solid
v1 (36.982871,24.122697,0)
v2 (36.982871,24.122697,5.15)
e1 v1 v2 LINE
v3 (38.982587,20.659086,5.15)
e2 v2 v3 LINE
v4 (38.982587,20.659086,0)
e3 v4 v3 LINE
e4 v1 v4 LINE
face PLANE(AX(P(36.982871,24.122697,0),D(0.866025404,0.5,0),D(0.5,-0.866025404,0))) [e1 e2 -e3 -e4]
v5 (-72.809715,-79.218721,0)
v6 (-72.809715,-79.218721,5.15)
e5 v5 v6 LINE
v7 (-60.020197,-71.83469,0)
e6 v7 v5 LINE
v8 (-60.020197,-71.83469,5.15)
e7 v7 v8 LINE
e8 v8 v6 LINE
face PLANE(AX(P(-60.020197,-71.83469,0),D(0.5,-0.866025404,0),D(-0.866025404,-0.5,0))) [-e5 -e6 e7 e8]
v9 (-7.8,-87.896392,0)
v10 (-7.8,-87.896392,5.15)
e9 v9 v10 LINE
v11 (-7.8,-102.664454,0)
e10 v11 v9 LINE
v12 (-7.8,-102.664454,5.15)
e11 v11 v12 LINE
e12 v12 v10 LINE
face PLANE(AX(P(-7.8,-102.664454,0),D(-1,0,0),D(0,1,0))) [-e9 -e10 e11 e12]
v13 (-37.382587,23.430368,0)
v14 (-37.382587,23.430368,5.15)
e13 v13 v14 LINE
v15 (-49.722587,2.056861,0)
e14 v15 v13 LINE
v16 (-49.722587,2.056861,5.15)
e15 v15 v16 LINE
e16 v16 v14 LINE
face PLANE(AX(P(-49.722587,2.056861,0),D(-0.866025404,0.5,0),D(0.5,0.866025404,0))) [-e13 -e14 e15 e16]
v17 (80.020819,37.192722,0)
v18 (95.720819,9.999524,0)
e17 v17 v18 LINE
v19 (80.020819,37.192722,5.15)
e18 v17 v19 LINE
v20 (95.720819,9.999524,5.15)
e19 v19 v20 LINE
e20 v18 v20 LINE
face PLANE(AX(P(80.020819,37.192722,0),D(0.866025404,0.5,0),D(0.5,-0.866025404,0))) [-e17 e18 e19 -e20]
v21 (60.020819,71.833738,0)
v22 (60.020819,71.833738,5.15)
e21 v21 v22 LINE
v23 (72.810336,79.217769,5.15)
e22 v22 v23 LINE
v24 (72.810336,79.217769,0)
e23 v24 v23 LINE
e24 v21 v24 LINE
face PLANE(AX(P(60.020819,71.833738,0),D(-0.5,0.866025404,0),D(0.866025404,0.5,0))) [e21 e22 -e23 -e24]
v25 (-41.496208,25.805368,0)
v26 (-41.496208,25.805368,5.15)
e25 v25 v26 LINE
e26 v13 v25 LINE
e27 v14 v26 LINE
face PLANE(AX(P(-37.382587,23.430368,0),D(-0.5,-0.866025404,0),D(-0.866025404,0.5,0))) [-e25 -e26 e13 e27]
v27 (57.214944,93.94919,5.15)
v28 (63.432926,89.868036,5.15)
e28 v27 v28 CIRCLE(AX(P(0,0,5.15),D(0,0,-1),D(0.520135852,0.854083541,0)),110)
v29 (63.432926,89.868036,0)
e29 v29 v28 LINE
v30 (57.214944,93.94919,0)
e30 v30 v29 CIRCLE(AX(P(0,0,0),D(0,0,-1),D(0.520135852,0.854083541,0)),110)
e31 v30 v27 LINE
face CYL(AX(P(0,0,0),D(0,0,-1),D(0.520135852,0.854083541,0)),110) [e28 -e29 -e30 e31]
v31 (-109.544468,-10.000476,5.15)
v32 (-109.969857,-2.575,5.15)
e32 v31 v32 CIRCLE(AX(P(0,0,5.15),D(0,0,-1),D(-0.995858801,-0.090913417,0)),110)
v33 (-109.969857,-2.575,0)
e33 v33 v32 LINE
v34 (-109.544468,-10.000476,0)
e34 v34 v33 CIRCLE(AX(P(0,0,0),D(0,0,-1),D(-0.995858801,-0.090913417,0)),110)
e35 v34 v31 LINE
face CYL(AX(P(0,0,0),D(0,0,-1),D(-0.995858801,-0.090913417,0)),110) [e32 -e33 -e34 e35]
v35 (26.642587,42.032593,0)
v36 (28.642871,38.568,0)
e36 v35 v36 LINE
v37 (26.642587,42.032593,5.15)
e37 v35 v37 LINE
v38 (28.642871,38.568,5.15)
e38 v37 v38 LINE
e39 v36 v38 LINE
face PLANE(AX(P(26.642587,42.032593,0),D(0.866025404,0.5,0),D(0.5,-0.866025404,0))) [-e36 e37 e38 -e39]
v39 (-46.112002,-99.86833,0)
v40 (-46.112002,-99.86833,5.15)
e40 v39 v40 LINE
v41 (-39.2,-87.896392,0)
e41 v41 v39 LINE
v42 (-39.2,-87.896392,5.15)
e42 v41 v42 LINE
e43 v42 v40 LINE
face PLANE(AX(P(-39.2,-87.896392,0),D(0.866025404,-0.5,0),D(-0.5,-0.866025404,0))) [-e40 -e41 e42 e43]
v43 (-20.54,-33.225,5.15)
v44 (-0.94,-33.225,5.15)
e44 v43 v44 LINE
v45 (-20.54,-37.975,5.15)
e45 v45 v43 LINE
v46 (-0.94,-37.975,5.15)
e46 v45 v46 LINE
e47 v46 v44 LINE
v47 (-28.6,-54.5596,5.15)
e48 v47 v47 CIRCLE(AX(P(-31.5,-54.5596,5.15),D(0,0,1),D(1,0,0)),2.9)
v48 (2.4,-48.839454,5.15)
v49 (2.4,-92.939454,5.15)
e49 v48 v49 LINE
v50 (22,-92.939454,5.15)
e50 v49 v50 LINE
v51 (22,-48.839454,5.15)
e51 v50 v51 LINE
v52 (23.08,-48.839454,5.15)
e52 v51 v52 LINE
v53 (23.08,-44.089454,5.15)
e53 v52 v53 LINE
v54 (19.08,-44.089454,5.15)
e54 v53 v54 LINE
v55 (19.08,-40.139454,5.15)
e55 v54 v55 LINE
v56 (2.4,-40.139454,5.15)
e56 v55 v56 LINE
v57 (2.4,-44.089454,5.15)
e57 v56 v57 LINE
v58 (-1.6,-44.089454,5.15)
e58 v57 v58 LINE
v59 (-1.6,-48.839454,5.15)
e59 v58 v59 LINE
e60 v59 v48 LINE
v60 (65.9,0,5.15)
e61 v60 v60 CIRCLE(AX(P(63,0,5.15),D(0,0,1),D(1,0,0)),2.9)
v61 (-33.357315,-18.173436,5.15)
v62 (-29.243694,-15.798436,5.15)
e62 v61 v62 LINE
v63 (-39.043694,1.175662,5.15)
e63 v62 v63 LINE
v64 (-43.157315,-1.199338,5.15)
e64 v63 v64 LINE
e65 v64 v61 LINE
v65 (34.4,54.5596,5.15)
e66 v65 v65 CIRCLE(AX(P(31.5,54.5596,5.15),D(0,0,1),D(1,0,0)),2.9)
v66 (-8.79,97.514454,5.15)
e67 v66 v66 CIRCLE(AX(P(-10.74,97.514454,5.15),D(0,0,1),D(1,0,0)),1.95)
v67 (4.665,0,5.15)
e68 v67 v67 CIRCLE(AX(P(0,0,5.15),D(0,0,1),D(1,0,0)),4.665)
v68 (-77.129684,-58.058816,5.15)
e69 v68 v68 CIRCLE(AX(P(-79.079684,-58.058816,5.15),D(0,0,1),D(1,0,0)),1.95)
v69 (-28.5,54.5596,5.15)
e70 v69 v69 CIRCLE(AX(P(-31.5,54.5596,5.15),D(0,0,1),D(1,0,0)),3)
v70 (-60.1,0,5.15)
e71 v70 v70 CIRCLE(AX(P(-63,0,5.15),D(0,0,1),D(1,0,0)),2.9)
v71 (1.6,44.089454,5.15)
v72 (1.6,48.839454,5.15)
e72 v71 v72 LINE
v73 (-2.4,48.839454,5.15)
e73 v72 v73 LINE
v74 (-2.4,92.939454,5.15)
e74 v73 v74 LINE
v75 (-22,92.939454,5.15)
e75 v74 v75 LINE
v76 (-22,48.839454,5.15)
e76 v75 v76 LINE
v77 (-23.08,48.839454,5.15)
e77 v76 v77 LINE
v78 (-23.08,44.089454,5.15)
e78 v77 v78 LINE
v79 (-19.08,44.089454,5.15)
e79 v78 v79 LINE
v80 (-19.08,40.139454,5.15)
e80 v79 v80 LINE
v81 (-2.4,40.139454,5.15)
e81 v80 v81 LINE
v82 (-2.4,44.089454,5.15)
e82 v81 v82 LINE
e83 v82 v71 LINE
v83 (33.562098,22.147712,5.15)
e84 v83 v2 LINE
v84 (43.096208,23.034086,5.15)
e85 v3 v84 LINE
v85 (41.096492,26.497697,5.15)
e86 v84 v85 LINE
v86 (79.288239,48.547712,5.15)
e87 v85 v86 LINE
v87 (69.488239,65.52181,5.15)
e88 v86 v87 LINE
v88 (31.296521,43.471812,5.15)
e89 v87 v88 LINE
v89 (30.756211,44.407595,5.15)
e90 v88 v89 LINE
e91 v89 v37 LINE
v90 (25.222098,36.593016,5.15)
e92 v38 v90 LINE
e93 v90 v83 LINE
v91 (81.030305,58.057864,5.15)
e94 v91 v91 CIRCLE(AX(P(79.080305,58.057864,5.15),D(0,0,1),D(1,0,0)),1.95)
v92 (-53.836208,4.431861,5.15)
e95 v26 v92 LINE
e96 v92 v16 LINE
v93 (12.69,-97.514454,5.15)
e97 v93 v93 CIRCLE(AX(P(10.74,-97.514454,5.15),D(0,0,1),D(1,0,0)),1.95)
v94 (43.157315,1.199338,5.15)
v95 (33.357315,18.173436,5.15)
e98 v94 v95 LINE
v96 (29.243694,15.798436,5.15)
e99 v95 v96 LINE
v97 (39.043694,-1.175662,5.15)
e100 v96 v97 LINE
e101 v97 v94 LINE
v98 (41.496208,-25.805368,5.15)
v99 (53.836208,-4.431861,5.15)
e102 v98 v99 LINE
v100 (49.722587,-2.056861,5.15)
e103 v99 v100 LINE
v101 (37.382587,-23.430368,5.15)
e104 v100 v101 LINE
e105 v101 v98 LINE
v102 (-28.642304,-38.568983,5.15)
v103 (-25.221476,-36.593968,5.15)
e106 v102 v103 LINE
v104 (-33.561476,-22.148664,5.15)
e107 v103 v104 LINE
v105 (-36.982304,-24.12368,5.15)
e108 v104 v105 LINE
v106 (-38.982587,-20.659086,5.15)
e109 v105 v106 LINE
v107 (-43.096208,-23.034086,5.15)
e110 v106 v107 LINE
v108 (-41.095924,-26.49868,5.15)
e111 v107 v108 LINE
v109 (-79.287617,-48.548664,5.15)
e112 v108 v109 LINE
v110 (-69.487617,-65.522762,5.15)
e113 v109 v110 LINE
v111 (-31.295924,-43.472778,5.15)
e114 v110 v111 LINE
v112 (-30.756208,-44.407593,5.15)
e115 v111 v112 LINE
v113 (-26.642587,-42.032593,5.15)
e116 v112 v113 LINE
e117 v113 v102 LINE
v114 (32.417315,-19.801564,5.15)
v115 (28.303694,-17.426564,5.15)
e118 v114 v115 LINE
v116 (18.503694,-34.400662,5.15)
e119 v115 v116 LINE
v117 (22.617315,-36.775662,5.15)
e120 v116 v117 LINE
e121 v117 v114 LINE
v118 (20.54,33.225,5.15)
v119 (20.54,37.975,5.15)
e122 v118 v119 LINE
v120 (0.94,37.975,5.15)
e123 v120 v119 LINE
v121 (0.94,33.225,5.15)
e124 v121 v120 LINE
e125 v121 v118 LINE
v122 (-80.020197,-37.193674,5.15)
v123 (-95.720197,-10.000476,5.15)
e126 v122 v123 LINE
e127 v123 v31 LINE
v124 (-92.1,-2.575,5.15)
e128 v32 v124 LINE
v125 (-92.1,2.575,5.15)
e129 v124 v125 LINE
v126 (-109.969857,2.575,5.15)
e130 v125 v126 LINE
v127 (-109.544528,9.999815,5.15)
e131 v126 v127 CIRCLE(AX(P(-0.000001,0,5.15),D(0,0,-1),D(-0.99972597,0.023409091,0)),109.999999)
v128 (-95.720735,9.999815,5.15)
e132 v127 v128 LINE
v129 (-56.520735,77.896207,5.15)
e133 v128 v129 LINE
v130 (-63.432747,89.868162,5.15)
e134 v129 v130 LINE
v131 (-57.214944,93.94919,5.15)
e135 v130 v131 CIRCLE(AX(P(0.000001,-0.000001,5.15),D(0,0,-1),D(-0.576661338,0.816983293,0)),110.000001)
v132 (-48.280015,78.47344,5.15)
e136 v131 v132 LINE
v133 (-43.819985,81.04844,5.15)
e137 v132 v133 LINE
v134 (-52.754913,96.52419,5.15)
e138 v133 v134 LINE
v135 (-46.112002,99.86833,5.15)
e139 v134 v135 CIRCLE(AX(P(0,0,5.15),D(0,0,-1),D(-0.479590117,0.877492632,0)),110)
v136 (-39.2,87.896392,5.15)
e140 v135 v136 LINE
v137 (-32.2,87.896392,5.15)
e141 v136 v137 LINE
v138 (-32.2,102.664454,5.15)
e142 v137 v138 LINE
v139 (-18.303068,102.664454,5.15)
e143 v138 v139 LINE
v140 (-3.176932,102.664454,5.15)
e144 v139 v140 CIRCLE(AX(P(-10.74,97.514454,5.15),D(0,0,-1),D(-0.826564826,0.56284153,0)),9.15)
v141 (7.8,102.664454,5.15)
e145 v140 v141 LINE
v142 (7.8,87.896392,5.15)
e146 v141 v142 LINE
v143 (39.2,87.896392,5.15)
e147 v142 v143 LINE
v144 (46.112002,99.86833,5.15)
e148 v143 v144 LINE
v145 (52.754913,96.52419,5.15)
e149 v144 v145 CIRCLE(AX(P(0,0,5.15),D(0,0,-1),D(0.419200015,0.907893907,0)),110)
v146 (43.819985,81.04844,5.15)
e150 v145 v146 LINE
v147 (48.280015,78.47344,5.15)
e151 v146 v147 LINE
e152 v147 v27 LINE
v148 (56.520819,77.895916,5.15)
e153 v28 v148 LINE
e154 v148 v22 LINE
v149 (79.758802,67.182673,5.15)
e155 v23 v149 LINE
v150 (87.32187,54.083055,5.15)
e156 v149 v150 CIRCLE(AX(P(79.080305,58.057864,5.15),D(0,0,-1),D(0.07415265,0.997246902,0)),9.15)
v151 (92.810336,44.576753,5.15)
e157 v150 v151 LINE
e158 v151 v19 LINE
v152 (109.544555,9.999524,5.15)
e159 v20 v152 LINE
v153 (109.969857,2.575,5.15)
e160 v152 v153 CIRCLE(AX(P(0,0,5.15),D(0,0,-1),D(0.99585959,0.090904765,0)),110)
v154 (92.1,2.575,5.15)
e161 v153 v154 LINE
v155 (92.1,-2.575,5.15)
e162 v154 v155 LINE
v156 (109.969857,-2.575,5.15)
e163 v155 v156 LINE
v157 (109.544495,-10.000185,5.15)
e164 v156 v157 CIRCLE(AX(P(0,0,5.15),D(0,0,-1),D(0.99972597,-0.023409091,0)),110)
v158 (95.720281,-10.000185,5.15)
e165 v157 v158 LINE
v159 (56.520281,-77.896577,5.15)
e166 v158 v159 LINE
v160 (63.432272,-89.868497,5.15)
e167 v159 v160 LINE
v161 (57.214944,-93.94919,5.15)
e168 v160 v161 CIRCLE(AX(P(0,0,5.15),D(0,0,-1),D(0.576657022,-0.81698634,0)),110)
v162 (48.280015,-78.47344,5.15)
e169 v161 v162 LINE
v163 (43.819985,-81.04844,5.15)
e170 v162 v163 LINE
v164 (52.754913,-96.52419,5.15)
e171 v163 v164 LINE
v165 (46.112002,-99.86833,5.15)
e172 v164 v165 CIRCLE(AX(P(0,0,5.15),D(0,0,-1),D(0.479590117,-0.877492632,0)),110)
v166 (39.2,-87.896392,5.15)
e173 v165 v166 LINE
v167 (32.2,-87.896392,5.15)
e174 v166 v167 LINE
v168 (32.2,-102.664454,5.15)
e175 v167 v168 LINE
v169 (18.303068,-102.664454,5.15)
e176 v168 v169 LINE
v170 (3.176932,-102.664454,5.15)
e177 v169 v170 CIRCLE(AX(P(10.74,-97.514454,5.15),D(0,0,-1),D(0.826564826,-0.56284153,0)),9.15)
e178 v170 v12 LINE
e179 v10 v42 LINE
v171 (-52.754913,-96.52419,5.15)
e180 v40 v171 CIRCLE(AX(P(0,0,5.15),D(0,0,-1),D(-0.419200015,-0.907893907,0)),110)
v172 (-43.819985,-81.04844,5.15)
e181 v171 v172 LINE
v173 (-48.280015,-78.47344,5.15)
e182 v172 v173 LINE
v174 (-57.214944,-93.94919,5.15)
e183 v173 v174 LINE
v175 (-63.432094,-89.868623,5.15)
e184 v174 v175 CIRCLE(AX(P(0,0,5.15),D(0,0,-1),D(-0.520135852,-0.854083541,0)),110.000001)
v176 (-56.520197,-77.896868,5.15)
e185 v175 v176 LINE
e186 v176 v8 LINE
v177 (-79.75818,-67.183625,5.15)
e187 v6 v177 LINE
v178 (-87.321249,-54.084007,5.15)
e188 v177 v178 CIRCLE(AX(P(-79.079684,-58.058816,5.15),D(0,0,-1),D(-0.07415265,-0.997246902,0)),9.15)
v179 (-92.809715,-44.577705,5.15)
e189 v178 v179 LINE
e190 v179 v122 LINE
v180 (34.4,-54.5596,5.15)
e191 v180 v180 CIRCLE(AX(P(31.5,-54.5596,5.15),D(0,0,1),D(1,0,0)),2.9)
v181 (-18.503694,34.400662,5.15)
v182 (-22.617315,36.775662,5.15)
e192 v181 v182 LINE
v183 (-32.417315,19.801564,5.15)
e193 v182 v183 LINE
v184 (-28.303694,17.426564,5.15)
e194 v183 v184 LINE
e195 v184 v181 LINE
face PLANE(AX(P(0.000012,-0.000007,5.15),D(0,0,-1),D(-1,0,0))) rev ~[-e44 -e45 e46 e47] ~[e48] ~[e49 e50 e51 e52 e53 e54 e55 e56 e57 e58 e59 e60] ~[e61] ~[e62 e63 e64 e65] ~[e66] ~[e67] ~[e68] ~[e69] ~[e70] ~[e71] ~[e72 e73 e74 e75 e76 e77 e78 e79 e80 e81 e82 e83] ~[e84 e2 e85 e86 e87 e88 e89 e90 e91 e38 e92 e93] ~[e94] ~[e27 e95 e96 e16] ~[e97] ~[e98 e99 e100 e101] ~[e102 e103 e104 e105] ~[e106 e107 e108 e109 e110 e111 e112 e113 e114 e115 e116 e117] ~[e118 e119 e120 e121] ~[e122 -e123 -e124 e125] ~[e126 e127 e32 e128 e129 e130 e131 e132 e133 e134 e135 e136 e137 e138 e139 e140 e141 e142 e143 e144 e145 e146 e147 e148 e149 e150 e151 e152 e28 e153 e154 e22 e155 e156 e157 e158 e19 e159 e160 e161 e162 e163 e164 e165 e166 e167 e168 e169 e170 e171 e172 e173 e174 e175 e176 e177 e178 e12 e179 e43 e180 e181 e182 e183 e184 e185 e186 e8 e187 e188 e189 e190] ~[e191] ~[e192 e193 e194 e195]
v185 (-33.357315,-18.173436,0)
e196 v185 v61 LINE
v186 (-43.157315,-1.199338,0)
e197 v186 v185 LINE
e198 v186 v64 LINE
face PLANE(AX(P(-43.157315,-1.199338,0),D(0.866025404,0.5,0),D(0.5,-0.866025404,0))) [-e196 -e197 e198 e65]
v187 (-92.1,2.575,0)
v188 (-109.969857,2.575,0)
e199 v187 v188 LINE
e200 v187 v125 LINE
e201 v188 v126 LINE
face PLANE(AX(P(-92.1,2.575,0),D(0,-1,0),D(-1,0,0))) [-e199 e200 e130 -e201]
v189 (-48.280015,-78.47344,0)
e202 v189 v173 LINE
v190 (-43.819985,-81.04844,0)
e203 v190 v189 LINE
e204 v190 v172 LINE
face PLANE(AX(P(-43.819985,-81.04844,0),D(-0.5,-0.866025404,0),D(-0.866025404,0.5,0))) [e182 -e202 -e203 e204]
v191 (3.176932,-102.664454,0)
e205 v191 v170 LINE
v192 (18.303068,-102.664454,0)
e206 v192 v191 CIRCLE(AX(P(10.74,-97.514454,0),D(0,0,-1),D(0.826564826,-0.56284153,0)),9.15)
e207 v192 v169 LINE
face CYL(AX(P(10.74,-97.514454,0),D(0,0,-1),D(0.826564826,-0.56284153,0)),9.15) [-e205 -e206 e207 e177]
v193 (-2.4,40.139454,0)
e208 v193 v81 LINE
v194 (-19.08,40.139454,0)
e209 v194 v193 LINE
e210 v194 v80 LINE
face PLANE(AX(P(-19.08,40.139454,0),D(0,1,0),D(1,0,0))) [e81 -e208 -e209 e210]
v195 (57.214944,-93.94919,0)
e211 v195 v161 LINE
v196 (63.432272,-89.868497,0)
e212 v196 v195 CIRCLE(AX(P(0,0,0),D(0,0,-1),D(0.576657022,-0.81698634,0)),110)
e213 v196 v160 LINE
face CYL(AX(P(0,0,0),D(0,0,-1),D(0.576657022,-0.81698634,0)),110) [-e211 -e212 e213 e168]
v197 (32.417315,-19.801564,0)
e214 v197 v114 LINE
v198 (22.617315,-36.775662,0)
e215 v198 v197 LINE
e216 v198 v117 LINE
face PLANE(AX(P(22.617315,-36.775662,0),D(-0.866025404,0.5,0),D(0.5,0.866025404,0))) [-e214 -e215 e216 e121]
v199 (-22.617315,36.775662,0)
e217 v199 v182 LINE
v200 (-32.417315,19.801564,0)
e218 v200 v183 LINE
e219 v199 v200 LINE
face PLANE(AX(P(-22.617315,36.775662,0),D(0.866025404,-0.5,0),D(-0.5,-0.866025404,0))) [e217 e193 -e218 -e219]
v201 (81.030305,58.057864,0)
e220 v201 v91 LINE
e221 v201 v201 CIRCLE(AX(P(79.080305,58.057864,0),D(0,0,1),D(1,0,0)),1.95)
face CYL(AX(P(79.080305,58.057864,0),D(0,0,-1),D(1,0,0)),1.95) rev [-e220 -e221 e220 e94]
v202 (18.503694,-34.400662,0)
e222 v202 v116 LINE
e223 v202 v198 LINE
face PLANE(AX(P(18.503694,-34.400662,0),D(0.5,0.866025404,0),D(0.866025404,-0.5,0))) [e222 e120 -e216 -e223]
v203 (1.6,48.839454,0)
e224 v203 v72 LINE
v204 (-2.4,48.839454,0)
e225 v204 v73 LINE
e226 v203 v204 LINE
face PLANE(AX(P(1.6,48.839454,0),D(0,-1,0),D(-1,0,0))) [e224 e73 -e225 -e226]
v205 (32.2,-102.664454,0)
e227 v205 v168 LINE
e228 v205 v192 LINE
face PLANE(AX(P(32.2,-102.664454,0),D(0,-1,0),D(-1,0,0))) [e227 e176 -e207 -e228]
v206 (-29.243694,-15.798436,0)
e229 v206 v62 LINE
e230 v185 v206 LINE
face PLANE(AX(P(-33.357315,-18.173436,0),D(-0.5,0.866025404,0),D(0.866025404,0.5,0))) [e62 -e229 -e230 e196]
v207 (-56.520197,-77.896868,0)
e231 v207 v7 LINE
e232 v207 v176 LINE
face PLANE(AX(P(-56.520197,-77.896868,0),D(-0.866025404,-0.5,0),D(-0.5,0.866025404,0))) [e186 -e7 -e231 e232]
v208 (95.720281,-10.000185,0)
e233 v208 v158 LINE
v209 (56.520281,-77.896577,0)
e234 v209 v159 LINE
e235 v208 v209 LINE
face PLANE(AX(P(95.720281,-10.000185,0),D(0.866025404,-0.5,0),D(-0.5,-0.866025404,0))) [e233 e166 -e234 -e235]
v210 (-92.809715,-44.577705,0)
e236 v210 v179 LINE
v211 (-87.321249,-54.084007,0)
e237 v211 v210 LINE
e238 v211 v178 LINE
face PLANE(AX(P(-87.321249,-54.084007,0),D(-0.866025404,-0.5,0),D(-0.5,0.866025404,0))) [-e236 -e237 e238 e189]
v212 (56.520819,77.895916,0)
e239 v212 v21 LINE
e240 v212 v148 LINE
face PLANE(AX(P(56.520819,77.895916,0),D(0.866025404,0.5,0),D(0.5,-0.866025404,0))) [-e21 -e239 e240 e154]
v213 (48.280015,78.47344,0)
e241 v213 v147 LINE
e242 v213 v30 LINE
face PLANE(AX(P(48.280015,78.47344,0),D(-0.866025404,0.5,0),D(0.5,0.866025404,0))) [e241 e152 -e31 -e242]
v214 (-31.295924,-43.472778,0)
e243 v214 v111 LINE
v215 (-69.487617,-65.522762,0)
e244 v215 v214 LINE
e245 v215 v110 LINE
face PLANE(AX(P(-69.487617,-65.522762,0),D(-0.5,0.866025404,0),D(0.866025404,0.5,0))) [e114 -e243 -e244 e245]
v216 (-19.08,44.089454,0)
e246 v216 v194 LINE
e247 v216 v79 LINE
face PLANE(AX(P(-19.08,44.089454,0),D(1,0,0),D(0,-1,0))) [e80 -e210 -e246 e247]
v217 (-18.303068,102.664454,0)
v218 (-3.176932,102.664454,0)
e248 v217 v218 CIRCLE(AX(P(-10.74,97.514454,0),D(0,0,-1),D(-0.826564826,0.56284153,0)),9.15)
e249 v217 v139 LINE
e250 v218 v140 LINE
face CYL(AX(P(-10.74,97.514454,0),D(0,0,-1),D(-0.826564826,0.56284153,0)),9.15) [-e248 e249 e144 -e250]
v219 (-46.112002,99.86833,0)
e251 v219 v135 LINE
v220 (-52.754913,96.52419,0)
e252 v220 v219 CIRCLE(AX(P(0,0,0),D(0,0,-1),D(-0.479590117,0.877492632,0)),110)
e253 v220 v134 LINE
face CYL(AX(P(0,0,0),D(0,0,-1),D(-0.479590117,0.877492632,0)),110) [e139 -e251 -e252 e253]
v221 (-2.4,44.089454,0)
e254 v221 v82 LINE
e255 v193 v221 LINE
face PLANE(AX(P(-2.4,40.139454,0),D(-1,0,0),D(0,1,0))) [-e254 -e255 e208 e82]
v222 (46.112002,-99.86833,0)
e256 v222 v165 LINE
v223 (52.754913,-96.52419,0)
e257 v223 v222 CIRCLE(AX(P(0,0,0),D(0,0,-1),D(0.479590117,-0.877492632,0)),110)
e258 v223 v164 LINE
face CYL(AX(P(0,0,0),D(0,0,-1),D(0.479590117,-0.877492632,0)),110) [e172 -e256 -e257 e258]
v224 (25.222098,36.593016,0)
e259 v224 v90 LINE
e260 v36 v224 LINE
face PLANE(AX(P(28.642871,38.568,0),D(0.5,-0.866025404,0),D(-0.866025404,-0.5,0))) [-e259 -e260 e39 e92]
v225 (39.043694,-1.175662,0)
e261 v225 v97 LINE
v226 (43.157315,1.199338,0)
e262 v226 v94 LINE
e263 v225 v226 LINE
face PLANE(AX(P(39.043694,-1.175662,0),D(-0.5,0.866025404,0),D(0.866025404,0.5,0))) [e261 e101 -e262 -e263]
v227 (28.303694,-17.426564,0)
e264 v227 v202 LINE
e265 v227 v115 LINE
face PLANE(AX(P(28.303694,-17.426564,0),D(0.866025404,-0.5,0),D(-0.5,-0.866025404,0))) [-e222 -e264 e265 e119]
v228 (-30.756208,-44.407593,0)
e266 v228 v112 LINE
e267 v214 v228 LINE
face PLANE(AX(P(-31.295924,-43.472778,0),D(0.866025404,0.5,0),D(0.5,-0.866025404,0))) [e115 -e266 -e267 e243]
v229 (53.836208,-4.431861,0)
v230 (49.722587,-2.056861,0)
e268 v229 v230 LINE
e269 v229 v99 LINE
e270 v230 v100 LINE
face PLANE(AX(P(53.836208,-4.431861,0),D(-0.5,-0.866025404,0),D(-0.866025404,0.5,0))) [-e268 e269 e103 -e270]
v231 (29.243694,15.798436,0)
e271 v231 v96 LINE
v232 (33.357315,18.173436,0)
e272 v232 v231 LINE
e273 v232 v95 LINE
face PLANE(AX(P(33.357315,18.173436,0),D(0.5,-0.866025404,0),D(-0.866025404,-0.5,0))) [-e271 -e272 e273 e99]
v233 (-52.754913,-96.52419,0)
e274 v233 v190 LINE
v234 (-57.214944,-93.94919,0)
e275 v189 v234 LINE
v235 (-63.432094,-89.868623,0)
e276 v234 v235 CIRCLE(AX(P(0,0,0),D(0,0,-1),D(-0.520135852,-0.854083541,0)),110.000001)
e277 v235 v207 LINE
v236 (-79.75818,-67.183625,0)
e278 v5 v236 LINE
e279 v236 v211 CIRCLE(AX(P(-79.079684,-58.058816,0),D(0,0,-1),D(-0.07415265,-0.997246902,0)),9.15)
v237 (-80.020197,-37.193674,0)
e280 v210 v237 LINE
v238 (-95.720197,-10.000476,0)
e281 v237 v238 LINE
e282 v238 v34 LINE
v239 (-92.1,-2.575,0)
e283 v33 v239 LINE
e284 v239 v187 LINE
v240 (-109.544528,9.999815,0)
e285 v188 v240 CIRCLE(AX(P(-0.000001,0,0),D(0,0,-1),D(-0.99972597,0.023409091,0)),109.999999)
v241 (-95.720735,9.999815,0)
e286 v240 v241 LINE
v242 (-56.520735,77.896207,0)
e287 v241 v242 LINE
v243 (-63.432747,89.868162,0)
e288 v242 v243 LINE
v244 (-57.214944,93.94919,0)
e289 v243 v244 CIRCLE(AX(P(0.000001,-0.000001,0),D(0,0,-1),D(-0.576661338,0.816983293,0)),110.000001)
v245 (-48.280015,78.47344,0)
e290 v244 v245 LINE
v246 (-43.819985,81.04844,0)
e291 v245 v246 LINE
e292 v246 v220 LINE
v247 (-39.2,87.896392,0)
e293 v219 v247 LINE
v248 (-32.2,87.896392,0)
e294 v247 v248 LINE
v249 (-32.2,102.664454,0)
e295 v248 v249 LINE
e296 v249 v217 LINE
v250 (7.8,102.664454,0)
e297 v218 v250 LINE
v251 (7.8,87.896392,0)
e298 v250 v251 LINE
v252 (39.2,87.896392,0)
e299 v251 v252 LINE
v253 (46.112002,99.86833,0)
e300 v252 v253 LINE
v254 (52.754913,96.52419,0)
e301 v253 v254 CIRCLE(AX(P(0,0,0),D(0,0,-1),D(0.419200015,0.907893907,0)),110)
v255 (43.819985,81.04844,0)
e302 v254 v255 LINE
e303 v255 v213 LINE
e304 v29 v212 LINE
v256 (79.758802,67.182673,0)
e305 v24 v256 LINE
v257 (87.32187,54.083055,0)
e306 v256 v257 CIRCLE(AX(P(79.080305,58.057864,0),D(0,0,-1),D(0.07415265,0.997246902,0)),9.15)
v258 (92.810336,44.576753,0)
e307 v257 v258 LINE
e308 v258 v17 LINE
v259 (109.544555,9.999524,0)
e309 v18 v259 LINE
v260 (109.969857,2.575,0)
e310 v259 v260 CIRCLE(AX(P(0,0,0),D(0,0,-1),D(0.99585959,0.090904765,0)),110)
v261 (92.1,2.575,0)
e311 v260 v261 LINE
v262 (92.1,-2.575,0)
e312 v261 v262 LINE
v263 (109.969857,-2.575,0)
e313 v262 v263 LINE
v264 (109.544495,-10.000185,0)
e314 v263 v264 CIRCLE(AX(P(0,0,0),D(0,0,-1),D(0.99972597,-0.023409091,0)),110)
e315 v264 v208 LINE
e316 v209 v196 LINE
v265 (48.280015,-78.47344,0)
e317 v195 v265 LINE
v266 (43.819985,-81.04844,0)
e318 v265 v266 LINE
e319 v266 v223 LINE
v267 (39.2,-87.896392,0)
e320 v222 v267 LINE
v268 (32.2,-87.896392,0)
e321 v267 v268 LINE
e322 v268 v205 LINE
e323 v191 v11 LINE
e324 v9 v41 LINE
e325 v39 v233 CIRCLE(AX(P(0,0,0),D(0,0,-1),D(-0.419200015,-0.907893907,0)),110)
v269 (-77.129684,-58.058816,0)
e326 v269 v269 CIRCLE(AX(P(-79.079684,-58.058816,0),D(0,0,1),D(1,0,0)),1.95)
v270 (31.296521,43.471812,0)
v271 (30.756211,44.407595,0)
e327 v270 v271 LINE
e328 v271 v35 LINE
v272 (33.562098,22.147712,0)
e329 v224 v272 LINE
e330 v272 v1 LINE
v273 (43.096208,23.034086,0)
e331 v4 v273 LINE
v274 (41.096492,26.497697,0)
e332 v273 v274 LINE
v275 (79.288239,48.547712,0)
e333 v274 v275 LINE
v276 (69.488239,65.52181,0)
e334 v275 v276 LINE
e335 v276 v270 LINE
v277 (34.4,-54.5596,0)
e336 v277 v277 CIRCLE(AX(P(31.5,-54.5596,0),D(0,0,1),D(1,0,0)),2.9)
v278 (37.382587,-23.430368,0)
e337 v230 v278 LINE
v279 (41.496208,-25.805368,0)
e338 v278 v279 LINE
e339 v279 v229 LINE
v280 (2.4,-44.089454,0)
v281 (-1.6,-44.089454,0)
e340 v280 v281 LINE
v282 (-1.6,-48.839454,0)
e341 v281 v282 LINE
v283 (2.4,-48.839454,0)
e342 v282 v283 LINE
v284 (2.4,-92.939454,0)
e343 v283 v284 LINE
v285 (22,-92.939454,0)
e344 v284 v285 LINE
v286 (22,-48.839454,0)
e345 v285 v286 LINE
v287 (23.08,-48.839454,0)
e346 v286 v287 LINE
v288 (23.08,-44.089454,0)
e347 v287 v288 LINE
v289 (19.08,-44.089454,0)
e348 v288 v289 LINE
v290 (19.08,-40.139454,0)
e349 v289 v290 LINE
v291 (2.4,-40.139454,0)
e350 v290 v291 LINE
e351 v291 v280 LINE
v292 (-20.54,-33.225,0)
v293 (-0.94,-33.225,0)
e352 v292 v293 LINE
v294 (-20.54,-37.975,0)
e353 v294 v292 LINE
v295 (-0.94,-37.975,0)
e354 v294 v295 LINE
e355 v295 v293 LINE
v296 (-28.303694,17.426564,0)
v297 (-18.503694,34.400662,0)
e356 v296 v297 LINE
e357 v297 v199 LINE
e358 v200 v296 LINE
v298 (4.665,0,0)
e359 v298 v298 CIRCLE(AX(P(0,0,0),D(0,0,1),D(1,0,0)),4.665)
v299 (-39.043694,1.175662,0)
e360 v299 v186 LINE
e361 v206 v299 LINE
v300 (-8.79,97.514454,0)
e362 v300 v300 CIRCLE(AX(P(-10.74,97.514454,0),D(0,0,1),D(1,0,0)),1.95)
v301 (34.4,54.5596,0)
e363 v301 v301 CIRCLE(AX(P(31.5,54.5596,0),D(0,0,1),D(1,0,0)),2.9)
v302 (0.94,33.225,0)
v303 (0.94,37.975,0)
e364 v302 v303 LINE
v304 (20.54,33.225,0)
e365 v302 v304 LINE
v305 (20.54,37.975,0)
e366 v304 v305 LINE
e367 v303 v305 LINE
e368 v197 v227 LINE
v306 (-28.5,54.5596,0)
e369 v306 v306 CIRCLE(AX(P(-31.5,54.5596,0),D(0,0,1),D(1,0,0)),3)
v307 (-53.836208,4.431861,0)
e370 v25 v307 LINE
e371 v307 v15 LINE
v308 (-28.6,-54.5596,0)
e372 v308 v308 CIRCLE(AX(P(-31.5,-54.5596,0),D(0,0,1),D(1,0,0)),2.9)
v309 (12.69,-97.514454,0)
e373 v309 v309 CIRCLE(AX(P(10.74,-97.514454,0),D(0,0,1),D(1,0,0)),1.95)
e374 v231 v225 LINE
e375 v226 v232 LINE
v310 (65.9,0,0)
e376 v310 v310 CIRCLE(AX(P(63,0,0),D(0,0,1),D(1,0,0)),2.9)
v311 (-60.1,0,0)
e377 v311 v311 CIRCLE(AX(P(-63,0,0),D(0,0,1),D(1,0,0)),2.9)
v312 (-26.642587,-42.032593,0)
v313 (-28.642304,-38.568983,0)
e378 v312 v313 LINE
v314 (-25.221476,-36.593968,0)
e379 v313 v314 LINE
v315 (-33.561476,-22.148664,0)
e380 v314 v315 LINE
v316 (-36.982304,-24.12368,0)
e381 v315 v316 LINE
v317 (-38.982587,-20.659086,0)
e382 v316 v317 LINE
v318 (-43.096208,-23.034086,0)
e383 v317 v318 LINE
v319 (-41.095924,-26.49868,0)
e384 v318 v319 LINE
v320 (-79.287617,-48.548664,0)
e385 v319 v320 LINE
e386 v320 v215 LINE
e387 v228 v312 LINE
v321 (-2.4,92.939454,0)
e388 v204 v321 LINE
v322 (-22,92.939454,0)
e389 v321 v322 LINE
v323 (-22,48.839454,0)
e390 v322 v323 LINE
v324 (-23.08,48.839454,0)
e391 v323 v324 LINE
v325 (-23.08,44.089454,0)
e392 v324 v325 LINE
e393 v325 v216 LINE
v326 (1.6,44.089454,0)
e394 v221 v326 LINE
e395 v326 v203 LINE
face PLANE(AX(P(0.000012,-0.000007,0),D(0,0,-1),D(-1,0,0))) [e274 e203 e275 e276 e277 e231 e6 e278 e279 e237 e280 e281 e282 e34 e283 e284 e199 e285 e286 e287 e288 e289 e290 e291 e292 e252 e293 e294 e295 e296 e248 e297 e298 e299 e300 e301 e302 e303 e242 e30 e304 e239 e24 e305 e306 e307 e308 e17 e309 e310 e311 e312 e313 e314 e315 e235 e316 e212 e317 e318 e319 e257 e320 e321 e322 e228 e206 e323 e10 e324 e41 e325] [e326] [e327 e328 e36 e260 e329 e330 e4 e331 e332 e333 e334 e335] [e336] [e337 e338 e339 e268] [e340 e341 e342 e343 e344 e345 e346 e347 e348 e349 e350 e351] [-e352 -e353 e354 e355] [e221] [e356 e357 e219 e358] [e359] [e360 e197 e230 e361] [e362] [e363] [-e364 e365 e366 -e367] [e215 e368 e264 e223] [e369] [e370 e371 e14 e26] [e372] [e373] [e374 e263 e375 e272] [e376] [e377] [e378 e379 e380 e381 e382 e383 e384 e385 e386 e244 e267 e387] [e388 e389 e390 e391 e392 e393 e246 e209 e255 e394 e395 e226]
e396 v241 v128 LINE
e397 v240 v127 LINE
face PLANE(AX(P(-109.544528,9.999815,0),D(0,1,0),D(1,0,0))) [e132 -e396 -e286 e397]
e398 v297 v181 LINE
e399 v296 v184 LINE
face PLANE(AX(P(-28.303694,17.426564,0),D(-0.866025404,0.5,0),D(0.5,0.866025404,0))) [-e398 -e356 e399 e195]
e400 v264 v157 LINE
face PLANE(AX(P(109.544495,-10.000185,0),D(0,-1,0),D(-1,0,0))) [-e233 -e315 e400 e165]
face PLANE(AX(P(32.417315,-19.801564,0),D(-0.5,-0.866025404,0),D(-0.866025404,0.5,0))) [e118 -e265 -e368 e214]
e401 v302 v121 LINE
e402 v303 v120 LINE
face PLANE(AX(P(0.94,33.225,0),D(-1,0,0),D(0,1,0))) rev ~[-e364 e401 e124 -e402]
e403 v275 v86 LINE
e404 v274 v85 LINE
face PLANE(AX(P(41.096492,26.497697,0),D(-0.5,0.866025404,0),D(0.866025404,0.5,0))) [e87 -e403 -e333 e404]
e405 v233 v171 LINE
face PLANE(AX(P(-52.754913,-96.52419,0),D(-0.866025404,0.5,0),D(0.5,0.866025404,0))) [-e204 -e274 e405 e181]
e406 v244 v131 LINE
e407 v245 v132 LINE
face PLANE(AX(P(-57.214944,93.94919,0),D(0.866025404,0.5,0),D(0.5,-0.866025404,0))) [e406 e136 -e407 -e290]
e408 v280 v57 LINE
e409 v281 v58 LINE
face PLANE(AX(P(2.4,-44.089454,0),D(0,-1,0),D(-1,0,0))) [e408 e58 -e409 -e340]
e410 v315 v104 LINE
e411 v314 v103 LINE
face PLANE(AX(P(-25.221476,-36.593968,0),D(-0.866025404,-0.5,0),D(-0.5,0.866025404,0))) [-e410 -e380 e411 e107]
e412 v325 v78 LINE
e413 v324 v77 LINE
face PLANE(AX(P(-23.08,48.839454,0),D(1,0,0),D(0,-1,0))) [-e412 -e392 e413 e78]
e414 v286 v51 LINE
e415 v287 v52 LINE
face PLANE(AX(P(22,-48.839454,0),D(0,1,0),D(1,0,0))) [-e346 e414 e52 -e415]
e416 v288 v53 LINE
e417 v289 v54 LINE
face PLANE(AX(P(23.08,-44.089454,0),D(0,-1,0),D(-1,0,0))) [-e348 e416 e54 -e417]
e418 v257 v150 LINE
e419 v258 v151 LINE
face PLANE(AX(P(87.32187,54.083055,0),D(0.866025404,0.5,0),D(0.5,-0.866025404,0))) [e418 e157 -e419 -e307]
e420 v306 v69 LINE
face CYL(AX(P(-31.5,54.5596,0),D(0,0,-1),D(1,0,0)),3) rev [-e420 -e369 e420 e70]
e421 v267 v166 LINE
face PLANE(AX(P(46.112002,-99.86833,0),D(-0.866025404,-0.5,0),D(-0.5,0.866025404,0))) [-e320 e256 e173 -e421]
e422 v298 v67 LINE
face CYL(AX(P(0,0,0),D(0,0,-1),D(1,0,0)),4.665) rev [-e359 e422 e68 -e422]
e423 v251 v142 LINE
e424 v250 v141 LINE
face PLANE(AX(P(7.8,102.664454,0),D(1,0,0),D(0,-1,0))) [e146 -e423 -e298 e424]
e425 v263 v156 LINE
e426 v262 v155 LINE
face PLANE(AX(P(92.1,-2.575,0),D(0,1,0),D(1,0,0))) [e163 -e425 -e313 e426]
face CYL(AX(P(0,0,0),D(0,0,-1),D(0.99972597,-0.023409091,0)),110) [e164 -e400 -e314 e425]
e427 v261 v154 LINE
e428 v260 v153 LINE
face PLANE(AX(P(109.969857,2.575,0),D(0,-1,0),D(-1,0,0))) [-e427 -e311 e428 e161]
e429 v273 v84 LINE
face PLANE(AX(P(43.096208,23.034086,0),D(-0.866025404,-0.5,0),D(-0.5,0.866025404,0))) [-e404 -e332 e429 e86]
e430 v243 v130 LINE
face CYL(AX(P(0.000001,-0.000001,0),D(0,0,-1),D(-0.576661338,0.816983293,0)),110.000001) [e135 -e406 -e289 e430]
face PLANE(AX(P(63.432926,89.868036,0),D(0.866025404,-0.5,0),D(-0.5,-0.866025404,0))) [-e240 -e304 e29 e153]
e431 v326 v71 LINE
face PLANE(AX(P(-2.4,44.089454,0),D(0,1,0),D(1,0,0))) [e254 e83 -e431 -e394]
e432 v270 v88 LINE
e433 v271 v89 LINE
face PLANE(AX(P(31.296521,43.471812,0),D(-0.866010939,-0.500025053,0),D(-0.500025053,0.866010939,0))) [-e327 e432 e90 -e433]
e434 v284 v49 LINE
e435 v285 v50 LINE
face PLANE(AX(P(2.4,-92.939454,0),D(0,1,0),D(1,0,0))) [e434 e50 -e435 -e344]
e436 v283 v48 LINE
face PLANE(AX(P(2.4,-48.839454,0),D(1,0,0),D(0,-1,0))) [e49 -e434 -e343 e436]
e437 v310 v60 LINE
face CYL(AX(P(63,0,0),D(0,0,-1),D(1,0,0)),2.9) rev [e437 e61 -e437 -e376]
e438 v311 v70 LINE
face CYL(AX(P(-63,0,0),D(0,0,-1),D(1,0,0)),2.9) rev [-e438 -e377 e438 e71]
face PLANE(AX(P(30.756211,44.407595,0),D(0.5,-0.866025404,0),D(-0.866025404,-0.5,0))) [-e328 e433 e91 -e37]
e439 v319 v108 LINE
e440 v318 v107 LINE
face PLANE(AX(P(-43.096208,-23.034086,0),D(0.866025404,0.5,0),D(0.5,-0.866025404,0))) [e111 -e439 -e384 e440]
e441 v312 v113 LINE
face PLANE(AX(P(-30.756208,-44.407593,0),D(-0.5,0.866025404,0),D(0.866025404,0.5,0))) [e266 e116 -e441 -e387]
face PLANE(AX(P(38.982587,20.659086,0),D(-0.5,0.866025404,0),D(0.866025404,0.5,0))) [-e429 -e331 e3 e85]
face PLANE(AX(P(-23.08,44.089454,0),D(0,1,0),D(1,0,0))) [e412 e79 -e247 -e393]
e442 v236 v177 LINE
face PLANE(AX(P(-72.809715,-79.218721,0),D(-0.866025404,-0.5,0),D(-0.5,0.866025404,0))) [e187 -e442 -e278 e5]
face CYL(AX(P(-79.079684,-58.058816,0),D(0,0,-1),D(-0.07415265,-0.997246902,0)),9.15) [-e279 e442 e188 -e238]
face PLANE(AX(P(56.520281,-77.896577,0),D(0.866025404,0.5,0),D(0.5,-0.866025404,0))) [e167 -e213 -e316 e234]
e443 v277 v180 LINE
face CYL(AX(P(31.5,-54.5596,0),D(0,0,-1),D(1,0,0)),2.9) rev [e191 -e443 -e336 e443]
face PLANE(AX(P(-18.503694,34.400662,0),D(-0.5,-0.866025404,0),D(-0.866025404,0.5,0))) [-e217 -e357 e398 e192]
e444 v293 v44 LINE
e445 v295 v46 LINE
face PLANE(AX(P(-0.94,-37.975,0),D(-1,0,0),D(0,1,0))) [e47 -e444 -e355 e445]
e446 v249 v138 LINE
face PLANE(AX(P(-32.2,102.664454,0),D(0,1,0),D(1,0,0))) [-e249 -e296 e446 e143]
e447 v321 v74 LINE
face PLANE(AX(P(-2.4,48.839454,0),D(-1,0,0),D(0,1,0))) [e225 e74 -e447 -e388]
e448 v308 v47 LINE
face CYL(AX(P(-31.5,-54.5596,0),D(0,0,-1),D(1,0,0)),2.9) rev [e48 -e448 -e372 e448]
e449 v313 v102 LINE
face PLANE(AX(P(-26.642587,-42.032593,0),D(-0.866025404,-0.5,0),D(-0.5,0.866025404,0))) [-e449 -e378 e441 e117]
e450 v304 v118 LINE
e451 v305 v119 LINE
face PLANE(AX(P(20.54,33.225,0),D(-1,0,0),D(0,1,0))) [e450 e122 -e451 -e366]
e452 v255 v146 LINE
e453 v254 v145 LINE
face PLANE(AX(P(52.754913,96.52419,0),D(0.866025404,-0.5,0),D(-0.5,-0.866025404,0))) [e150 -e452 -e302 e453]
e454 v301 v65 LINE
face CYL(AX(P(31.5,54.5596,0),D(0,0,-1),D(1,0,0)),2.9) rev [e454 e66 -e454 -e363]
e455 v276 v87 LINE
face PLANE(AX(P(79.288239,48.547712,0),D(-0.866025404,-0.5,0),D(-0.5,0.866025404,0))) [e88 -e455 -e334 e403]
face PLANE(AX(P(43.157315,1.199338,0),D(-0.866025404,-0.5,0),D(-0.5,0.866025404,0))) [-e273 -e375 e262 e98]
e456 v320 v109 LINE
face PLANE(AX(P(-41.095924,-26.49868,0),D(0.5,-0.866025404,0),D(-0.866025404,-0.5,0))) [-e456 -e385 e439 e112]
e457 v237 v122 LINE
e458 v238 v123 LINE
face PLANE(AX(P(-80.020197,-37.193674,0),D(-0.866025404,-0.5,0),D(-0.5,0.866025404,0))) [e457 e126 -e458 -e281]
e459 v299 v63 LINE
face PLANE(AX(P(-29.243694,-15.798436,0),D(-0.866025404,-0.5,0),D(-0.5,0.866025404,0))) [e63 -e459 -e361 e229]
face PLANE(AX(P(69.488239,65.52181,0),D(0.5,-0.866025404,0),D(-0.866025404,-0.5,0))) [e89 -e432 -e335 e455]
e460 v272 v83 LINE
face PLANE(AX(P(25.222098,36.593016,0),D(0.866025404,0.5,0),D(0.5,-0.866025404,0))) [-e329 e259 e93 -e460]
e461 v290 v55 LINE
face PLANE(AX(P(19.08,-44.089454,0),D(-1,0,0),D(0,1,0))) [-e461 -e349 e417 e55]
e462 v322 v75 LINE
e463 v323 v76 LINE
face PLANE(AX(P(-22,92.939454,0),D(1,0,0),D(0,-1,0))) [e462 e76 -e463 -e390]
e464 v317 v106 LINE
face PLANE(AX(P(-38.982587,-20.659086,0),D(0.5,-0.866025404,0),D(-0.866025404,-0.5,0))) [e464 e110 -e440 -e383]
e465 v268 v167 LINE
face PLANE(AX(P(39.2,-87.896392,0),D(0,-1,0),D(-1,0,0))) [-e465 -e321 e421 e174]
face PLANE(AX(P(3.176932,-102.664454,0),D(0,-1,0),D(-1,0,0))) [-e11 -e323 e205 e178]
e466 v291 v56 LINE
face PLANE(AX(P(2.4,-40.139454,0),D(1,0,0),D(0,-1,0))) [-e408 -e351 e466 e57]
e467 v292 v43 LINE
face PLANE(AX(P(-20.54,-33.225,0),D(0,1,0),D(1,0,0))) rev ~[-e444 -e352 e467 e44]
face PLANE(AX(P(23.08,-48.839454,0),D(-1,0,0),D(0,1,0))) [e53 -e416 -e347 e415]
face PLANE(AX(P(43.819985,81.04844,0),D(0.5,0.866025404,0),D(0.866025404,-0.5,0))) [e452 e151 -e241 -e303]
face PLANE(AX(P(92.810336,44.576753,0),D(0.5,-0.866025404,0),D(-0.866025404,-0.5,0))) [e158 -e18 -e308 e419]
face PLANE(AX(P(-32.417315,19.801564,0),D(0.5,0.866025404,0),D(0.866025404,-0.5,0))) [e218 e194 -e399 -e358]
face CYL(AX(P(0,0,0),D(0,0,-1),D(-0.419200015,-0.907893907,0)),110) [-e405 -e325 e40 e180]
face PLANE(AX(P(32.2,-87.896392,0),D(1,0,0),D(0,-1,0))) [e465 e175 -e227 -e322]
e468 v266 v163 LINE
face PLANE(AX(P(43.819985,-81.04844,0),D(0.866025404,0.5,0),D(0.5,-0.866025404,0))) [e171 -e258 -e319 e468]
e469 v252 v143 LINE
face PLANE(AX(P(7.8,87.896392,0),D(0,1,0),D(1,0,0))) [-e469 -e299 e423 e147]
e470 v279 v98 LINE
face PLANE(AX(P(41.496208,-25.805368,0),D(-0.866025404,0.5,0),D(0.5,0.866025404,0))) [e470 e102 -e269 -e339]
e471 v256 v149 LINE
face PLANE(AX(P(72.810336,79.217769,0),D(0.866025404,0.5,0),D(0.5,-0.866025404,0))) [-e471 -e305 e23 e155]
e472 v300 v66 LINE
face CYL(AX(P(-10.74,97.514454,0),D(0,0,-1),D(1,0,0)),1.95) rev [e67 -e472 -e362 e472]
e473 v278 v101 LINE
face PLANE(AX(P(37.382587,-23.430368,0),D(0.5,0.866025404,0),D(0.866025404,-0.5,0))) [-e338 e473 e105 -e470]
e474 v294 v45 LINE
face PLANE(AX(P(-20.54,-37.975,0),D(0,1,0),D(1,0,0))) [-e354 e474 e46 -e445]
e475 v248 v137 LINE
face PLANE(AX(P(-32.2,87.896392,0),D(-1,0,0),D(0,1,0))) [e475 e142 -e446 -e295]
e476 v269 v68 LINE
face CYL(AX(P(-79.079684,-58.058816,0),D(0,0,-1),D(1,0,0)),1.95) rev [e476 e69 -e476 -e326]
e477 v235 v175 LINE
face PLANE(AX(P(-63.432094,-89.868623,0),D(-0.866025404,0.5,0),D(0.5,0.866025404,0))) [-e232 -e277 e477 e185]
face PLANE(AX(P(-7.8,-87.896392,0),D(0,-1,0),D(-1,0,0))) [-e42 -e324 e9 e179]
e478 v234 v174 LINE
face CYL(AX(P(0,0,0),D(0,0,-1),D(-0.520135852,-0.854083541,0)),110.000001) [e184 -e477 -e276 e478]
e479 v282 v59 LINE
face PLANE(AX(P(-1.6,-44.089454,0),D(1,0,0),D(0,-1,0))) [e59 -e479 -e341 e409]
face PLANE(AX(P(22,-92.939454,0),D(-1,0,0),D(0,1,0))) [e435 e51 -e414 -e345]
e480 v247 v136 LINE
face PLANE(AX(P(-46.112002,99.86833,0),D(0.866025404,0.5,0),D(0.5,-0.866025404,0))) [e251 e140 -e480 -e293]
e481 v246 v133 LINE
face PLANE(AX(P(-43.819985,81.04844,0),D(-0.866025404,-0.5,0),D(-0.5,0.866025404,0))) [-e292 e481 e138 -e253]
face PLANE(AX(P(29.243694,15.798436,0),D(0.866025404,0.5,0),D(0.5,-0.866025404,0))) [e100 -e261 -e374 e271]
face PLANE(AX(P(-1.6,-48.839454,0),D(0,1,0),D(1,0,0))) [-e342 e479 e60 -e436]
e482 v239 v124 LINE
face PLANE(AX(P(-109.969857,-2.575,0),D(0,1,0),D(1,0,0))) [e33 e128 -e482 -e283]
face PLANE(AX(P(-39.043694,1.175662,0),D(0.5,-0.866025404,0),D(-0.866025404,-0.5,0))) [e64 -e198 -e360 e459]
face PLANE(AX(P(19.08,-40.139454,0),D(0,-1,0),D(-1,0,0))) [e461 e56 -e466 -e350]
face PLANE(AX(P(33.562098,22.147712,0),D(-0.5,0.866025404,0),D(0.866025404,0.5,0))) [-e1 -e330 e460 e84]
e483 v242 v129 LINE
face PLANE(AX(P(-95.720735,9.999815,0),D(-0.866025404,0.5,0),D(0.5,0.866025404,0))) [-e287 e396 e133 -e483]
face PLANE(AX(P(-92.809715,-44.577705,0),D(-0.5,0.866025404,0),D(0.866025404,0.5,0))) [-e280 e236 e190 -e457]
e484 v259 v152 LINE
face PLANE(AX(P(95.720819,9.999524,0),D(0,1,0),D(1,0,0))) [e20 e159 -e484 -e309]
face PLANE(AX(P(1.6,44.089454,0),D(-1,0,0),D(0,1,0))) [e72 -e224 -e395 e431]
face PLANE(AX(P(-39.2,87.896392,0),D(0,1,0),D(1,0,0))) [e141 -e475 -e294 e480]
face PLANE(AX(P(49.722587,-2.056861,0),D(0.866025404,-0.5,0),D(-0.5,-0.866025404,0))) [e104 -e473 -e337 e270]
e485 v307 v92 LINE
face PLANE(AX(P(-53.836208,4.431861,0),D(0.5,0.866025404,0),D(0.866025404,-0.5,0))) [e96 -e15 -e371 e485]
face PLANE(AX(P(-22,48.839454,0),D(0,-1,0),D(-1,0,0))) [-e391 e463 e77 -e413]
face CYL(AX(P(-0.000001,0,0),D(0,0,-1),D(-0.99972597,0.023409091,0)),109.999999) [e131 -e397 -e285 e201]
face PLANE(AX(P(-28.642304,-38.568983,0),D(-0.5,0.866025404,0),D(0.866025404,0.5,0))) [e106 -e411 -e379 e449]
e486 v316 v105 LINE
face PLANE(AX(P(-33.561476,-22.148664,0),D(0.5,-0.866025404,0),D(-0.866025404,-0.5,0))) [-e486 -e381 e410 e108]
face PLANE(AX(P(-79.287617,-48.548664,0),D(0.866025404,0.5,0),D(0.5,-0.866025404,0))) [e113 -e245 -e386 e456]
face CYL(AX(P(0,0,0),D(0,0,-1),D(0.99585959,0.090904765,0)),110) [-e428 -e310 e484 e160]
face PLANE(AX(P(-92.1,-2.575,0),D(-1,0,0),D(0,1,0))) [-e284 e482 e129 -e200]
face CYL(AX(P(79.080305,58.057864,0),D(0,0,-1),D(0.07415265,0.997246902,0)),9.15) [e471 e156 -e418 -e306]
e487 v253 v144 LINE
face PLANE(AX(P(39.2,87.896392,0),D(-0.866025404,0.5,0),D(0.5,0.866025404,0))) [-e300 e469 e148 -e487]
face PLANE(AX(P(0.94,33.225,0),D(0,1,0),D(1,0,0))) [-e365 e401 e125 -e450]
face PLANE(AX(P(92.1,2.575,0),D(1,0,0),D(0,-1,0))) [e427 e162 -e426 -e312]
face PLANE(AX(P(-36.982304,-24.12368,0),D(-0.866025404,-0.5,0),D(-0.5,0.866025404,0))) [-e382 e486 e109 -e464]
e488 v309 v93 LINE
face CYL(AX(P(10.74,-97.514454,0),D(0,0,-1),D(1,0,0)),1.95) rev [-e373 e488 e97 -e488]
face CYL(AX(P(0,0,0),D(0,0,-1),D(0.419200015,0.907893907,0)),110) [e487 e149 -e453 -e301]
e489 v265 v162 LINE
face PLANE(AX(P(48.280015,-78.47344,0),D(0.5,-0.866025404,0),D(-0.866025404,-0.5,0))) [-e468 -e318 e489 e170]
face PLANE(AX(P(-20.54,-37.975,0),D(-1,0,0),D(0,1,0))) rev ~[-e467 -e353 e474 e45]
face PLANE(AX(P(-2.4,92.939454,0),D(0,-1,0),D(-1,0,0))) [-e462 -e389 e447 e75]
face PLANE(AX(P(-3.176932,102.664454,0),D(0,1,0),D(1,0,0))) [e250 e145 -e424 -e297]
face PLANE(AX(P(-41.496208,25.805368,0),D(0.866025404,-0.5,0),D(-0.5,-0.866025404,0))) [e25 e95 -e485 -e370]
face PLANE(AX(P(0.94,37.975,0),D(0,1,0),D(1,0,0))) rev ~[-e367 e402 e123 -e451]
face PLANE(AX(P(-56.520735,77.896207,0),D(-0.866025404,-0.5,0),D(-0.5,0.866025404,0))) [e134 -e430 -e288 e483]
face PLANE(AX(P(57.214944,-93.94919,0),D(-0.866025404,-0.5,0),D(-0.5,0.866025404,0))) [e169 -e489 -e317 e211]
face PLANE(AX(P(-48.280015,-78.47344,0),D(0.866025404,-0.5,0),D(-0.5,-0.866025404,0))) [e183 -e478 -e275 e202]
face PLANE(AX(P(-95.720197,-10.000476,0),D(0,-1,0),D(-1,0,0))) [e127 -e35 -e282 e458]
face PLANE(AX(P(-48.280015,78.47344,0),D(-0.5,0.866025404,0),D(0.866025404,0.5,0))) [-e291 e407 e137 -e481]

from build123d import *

# Parameters (mm, degrees)
MODEL_R             = 2.9
MODEL_R_2           = 3
MODEL_R_3           = 1.95
MODEL_R_4           = 4.665
MODEL_W             = 19.6
MODEL_H             = 4.75
BOSS_EXTRUDE1_DEPTH = 5.15


with BuildPart() as part:
    # Model → Boss-Extrude1 (new body)
    with BuildSketch(Plane.XY):
        with BuildLine():
            Line((43.819984585, 81.048439688), (48.280015415, 78.473439688))
            Line((48.280015415, 78.473439688), (57.214943747, 93.949189523))
            ThreePointArc((57.214943747, 93.949189523), (60.358438208, 91.961181686), (63.432925851, 89.868036131))
            Line((63.432925851, 89.868036131), (56.520818931, 77.895915758))
            Line((56.520818931, 77.895915758), (60.020818931, 71.833737931))
            Line((60.020818931, 71.833737931), (72.810336239, 79.217769192))
            Line((72.810336239, 79.217769192), (79.758802159, 67.182673184))
            ThreePointArc((79.758802159, 67.182673184), (87.004437854, 62.632864027), (87.321870319, 54.083054869))
            Line((87.321870319, 54.083054869), (92.810336239, 44.57675304))
            Line((92.810336239, 44.57675304), (80.020818931, 37.19272178))
            Line((80.020818931, 37.19272178), (95.720818931, 9.999524101))
            Line((95.720818931, 9.999524101), (109.544554943, 9.999524101))
            ThreePointArc((109.544554943, 9.999524101), (109.819966834, 6.290857214), (109.969856665, 2.575))
            Line((109.969856665, 2.575), (92.1, 2.575))
            Line((92.1, 2.575), (92.1, -2.575))
            Line((92.1, -2.575), (109.969856665, -2.575))
            ThreePointArc((109.969856665, -2.575), (109.819947856, -6.291188516), (109.544494609, -10.000185045))
            Line((109.544494609, -10.000185045), (95.720280769, -10.000185045))
            Line((95.720280769, -10.000185045), (56.520280769, -77.896576702))
            Line((56.520280769, -77.896576702), (63.432272389, -89.86849737))
            ThreePointArc((63.432272389, -89.86849737), (60.358103868, -91.961401128), (57.214943747, -93.949189523))
            Line((57.214943747, -93.949189523), (48.280015415, -78.473439688))
            Line((48.280015415, -78.473439688), (43.819984585, -81.048439688))
            Line((43.819984585, -81.048439688), (52.754912918, -96.524189523))
            ThreePointArc((52.754912918, -96.524189523), (49.461727838, -98.252417168), (46.112001713, -99.868329805))
            Line((46.112001713, -99.868329805), (39.2, -87.896391657))
            Line((39.2, -87.896391657), (32.2, -87.896391657))
            Line((32.2, -87.896391657), (32.2, -102.664454178))
            Line((32.2, -102.664454178), (18.303068161, -102.664454178))
            ThreePointArc((18.303068161, -102.664454178), (10.74, -106.664454178), (3.17693184, -102.664454178))
            Line((3.17693184, -102.664454178), (-7.8, -102.664454178))
            Line((-7.8, -102.664454178), (-7.8, -87.896391657))
            Line((-7.8, -87.896391657), (-39.2, -87.896391657))
            Line((-39.2, -87.896391657), (-46.112001713, -99.868329805))
            ThreePointArc((-46.112001713, -99.868329805), (-49.461727838, -98.252417168), (-52.754912918, -96.524189523))
            Line((-52.754912918, -96.524189523), (-43.819984585, -81.048439689))
            Line((-43.819984585, -81.048439689), (-48.280015415, -78.473439689))
            Line((-48.280015415, -78.473439689), (-57.214943747, -93.949189523))
            ThreePointArc((-57.214943747, -93.949189523), (-60.358012455, -91.961461126), (-63.432093724, -89.868623478))
            Line((-63.432093724, -89.868623478), (-56.52019722, -77.896867556))
            Line((-56.52019722, -77.896867556), (-60.02019722, -71.834689729))
            Line((-60.02019722, -71.834689729), (-72.809714528, -79.218720989))
            Line((-72.809714528, -79.218720989), (-79.758180447, -67.183624982))
            ThreePointArc((-79.758180447, -67.183624982), (-87.003816143, -62.633815824), (-87.321248608, -54.084006667))
            Line((-87.321248608, -54.084006667), (-92.809714528, -44.577704838))
            Line((-92.809714528, -44.577704838), (-80.02019722, -37.193673578))
            Line((-80.02019722, -37.193673578), (-95.72019722, -10.000475899))
            Line((-95.72019722, -10.000475899), (-109.544468057, -10.000475899))
            ThreePointArc((-109.544468057, -10.000475899), (-109.819939504, -6.291334309), (-109.969856665, -2.575))
            Line((-109.969856665, -2.575), (-92.1, -2.575))
            Line((-92.1, -2.575), (-92.1, 2.575))
            Line((-92.1, 2.575), (-109.969856665, 2.575))
            ThreePointArc((-109.969856665, 2.575), (-109.819958483, 6.291003006), (-109.544528393, 9.999814955))
            Line((-109.544528393, 9.999814955), (-95.720735382, 9.999814955))
            Line((-95.720735382, 9.999814955), (-56.520735382, 77.896206612))
            Line((-56.520735382, 77.896206612), (-63.432747187, 89.86816224))
            ThreePointArc((-63.432747187, 89.86816224), (-60.358346795, 91.961241684), (-57.214943747, 93.949189523))
            Line((-57.214943747, 93.949189523), (-48.280015415, 78.473439689))
            Line((-48.280015415, 78.473439689), (-43.819984585, 81.048439689))
            Line((-43.819984585, 81.048439689), (-52.754912918, 96.524189523))
            ThreePointArc((-52.754912918, 96.524189523), (-49.461727838, 98.252417168), (-46.112001713, 99.868329805))
            Line((-46.112001713, 99.868329805), (-39.2, 87.896391657))
            Line((-39.2, 87.896391657), (-32.2, 87.896391657))
            Line((-32.2, 87.896391657), (-32.2, 102.664454178))
            Line((-32.2, 102.664454178), (-18.30306816, 102.664454178))
            ThreePointArc((-18.30306816, 102.664454178), (-10.74, 106.664454178), (-3.176931839, 102.664454178))
            Line((-3.176931839, 102.664454178), (7.8, 102.664454178))
            Line((7.8, 102.664454178), (7.8, 87.896391657))
            Line((7.8, 87.896391657), (39.2, 87.896391657))
            Line((39.2, 87.896391657), (46.112001713, 99.868329805))
            ThreePointArc((46.112001713, 99.868329805), (49.461727838, 98.252417168), (52.754912918, 96.524189523))
            Line((52.754912918, 96.524189523), (43.819984585, 81.048439688))
        make_face()
        with Locations((-63, 0)):
            Circle(MODEL_R, mode=Mode.SUBTRACT)
        with Locations((-31.5, -54.559600438)):
            Circle(MODEL_R, mode=Mode.SUBTRACT)
        with Locations((31.5, -54.559600438)):
            Circle(MODEL_R, mode=Mode.SUBTRACT)
        with Locations((63, 0)):
            Circle(MODEL_R, mode=Mode.SUBTRACT)
        with Locations((31.5, 54.559600438)):
            Circle(MODEL_R, mode=Mode.SUBTRACT)
        with Locations((-31.5, 54.559600438)):
            Circle(MODEL_R_2, mode=Mode.SUBTRACT)
        with Locations((-79.079683698, -58.058815824)):
            Circle(MODEL_R_3, mode=Mode.SUBTRACT)
        with Locations((79.08030541, 58.057864027)):
            Circle(MODEL_R_3, mode=Mode.SUBTRACT)
        Circle(MODEL_R_4, mode=Mode.SUBTRACT)
        with Locations((-10.74, 97.514454178)):
            Circle(MODEL_R_3, mode=Mode.SUBTRACT)
        with Locations((10.74, -97.514454178)):
            Circle(MODEL_R_3, mode=Mode.SUBTRACT)
        Polygon((33.357314709, 18.17343612), (29.243694041, 15.79843612), (39.043694041, -1.175661794), (43.157314709, 1.199338206), align=None, mode=Mode.SUBTRACT)
        Polygon((32.417314709, -19.80156388), (28.303694041, -17.42656388), (18.503694041, -34.400661794), (22.617314709, -36.775661794), align=None, mode=Mode.SUBTRACT)
        with Locations((-10.74, -35.6)):
            Rectangle(MODEL_W, MODEL_H, mode=Mode.SUBTRACT)
        Polygon((-33.357314709, -18.17343612), (-29.243694041, -15.79843612), (-39.043694041, 1.175661794), (-43.157314709, -1.199338206), align=None, mode=Mode.SUBTRACT)
        Polygon((-32.417314709, 19.80156388), (-28.303694041, 17.42656388), (-18.503694041, 34.400661794), (-22.617314709, 36.775661794), align=None, mode=Mode.SUBTRACT)
        Polygon((36.982871141, 24.122696529), (38.982587357, 20.659086443), (43.096208025, 23.034086443), (41.096491809, 26.497696529), (79.288239187, 48.547712159), (69.488239187, 65.521810073), (31.296521386, 43.47181152), (30.75621053, 44.407594854), (26.642587357, 42.032593408), (28.642871141, 38.568000264), (25.222097867, 36.593015894), (33.562097867, 22.147712159), align=None, mode=Mode.SUBTRACT)
        Polygon((37.382587357, -23.430367735), (41.496208025, -25.805367735), (53.836208025, -4.431860769), (49.722587357, -2.056860769), align=None, mode=Mode.SUBTRACT)
        Polygon((2.4, -44.089454178), (-1.6, -44.089454178), (-1.6, -48.839454177), (2.4, -48.839454177), (2.4, -92.939454178), (22, -92.939454178), (22, -48.839454177), (23.08, -48.839454177), (23.08, -44.089454178), (19.08, -44.089454178), (19.08, -40.139454177), (2.4, -40.139454177), align=None, mode=Mode.SUBTRACT)
        Polygon((-36.982303573, -24.123679586), (-38.982587357, -20.659086443), (-43.096208025, -23.034086443), (-41.095924241, -26.498679586), (-79.287617476, -48.548663957), (-69.487617476, -65.522761871), (-31.295924241, -43.472777501), (-30.756208025, -44.407593408), (-26.642587357, -42.032593408), (-28.642303573, -38.568983322), (-25.221476156, -36.593967692), (-33.561476156, -22.148663957), align=None, mode=Mode.SUBTRACT)
        Polygon((-37.382587357, 23.430367735), (-41.496208025, 25.805367735), (-53.836208025, 4.431860769), (-49.722587357, 2.056860769), align=None, mode=Mode.SUBTRACT)
        with Locations((10.74, 35.6)):
            Rectangle(MODEL_W, MODEL_H, mode=Mode.SUBTRACT)
        Polygon((-2.4, 44.089454178), (1.6, 44.089454178), (1.6, 48.839454177), (-2.4, 48.839454177), (-2.4, 92.939454178), (-22, 92.939454178), (-22, 48.839454177), (-23.08, 48.839454177), (-23.08, 44.089454178), (-19.08, 44.089454178), (-19.08, 40.139454177), (-2.4, 40.139454177), align=None, mode=Mode.SUBTRACT)
    extrude(amount=BOSS_EXTRUDE1_DEPTH)


solid = part.part
